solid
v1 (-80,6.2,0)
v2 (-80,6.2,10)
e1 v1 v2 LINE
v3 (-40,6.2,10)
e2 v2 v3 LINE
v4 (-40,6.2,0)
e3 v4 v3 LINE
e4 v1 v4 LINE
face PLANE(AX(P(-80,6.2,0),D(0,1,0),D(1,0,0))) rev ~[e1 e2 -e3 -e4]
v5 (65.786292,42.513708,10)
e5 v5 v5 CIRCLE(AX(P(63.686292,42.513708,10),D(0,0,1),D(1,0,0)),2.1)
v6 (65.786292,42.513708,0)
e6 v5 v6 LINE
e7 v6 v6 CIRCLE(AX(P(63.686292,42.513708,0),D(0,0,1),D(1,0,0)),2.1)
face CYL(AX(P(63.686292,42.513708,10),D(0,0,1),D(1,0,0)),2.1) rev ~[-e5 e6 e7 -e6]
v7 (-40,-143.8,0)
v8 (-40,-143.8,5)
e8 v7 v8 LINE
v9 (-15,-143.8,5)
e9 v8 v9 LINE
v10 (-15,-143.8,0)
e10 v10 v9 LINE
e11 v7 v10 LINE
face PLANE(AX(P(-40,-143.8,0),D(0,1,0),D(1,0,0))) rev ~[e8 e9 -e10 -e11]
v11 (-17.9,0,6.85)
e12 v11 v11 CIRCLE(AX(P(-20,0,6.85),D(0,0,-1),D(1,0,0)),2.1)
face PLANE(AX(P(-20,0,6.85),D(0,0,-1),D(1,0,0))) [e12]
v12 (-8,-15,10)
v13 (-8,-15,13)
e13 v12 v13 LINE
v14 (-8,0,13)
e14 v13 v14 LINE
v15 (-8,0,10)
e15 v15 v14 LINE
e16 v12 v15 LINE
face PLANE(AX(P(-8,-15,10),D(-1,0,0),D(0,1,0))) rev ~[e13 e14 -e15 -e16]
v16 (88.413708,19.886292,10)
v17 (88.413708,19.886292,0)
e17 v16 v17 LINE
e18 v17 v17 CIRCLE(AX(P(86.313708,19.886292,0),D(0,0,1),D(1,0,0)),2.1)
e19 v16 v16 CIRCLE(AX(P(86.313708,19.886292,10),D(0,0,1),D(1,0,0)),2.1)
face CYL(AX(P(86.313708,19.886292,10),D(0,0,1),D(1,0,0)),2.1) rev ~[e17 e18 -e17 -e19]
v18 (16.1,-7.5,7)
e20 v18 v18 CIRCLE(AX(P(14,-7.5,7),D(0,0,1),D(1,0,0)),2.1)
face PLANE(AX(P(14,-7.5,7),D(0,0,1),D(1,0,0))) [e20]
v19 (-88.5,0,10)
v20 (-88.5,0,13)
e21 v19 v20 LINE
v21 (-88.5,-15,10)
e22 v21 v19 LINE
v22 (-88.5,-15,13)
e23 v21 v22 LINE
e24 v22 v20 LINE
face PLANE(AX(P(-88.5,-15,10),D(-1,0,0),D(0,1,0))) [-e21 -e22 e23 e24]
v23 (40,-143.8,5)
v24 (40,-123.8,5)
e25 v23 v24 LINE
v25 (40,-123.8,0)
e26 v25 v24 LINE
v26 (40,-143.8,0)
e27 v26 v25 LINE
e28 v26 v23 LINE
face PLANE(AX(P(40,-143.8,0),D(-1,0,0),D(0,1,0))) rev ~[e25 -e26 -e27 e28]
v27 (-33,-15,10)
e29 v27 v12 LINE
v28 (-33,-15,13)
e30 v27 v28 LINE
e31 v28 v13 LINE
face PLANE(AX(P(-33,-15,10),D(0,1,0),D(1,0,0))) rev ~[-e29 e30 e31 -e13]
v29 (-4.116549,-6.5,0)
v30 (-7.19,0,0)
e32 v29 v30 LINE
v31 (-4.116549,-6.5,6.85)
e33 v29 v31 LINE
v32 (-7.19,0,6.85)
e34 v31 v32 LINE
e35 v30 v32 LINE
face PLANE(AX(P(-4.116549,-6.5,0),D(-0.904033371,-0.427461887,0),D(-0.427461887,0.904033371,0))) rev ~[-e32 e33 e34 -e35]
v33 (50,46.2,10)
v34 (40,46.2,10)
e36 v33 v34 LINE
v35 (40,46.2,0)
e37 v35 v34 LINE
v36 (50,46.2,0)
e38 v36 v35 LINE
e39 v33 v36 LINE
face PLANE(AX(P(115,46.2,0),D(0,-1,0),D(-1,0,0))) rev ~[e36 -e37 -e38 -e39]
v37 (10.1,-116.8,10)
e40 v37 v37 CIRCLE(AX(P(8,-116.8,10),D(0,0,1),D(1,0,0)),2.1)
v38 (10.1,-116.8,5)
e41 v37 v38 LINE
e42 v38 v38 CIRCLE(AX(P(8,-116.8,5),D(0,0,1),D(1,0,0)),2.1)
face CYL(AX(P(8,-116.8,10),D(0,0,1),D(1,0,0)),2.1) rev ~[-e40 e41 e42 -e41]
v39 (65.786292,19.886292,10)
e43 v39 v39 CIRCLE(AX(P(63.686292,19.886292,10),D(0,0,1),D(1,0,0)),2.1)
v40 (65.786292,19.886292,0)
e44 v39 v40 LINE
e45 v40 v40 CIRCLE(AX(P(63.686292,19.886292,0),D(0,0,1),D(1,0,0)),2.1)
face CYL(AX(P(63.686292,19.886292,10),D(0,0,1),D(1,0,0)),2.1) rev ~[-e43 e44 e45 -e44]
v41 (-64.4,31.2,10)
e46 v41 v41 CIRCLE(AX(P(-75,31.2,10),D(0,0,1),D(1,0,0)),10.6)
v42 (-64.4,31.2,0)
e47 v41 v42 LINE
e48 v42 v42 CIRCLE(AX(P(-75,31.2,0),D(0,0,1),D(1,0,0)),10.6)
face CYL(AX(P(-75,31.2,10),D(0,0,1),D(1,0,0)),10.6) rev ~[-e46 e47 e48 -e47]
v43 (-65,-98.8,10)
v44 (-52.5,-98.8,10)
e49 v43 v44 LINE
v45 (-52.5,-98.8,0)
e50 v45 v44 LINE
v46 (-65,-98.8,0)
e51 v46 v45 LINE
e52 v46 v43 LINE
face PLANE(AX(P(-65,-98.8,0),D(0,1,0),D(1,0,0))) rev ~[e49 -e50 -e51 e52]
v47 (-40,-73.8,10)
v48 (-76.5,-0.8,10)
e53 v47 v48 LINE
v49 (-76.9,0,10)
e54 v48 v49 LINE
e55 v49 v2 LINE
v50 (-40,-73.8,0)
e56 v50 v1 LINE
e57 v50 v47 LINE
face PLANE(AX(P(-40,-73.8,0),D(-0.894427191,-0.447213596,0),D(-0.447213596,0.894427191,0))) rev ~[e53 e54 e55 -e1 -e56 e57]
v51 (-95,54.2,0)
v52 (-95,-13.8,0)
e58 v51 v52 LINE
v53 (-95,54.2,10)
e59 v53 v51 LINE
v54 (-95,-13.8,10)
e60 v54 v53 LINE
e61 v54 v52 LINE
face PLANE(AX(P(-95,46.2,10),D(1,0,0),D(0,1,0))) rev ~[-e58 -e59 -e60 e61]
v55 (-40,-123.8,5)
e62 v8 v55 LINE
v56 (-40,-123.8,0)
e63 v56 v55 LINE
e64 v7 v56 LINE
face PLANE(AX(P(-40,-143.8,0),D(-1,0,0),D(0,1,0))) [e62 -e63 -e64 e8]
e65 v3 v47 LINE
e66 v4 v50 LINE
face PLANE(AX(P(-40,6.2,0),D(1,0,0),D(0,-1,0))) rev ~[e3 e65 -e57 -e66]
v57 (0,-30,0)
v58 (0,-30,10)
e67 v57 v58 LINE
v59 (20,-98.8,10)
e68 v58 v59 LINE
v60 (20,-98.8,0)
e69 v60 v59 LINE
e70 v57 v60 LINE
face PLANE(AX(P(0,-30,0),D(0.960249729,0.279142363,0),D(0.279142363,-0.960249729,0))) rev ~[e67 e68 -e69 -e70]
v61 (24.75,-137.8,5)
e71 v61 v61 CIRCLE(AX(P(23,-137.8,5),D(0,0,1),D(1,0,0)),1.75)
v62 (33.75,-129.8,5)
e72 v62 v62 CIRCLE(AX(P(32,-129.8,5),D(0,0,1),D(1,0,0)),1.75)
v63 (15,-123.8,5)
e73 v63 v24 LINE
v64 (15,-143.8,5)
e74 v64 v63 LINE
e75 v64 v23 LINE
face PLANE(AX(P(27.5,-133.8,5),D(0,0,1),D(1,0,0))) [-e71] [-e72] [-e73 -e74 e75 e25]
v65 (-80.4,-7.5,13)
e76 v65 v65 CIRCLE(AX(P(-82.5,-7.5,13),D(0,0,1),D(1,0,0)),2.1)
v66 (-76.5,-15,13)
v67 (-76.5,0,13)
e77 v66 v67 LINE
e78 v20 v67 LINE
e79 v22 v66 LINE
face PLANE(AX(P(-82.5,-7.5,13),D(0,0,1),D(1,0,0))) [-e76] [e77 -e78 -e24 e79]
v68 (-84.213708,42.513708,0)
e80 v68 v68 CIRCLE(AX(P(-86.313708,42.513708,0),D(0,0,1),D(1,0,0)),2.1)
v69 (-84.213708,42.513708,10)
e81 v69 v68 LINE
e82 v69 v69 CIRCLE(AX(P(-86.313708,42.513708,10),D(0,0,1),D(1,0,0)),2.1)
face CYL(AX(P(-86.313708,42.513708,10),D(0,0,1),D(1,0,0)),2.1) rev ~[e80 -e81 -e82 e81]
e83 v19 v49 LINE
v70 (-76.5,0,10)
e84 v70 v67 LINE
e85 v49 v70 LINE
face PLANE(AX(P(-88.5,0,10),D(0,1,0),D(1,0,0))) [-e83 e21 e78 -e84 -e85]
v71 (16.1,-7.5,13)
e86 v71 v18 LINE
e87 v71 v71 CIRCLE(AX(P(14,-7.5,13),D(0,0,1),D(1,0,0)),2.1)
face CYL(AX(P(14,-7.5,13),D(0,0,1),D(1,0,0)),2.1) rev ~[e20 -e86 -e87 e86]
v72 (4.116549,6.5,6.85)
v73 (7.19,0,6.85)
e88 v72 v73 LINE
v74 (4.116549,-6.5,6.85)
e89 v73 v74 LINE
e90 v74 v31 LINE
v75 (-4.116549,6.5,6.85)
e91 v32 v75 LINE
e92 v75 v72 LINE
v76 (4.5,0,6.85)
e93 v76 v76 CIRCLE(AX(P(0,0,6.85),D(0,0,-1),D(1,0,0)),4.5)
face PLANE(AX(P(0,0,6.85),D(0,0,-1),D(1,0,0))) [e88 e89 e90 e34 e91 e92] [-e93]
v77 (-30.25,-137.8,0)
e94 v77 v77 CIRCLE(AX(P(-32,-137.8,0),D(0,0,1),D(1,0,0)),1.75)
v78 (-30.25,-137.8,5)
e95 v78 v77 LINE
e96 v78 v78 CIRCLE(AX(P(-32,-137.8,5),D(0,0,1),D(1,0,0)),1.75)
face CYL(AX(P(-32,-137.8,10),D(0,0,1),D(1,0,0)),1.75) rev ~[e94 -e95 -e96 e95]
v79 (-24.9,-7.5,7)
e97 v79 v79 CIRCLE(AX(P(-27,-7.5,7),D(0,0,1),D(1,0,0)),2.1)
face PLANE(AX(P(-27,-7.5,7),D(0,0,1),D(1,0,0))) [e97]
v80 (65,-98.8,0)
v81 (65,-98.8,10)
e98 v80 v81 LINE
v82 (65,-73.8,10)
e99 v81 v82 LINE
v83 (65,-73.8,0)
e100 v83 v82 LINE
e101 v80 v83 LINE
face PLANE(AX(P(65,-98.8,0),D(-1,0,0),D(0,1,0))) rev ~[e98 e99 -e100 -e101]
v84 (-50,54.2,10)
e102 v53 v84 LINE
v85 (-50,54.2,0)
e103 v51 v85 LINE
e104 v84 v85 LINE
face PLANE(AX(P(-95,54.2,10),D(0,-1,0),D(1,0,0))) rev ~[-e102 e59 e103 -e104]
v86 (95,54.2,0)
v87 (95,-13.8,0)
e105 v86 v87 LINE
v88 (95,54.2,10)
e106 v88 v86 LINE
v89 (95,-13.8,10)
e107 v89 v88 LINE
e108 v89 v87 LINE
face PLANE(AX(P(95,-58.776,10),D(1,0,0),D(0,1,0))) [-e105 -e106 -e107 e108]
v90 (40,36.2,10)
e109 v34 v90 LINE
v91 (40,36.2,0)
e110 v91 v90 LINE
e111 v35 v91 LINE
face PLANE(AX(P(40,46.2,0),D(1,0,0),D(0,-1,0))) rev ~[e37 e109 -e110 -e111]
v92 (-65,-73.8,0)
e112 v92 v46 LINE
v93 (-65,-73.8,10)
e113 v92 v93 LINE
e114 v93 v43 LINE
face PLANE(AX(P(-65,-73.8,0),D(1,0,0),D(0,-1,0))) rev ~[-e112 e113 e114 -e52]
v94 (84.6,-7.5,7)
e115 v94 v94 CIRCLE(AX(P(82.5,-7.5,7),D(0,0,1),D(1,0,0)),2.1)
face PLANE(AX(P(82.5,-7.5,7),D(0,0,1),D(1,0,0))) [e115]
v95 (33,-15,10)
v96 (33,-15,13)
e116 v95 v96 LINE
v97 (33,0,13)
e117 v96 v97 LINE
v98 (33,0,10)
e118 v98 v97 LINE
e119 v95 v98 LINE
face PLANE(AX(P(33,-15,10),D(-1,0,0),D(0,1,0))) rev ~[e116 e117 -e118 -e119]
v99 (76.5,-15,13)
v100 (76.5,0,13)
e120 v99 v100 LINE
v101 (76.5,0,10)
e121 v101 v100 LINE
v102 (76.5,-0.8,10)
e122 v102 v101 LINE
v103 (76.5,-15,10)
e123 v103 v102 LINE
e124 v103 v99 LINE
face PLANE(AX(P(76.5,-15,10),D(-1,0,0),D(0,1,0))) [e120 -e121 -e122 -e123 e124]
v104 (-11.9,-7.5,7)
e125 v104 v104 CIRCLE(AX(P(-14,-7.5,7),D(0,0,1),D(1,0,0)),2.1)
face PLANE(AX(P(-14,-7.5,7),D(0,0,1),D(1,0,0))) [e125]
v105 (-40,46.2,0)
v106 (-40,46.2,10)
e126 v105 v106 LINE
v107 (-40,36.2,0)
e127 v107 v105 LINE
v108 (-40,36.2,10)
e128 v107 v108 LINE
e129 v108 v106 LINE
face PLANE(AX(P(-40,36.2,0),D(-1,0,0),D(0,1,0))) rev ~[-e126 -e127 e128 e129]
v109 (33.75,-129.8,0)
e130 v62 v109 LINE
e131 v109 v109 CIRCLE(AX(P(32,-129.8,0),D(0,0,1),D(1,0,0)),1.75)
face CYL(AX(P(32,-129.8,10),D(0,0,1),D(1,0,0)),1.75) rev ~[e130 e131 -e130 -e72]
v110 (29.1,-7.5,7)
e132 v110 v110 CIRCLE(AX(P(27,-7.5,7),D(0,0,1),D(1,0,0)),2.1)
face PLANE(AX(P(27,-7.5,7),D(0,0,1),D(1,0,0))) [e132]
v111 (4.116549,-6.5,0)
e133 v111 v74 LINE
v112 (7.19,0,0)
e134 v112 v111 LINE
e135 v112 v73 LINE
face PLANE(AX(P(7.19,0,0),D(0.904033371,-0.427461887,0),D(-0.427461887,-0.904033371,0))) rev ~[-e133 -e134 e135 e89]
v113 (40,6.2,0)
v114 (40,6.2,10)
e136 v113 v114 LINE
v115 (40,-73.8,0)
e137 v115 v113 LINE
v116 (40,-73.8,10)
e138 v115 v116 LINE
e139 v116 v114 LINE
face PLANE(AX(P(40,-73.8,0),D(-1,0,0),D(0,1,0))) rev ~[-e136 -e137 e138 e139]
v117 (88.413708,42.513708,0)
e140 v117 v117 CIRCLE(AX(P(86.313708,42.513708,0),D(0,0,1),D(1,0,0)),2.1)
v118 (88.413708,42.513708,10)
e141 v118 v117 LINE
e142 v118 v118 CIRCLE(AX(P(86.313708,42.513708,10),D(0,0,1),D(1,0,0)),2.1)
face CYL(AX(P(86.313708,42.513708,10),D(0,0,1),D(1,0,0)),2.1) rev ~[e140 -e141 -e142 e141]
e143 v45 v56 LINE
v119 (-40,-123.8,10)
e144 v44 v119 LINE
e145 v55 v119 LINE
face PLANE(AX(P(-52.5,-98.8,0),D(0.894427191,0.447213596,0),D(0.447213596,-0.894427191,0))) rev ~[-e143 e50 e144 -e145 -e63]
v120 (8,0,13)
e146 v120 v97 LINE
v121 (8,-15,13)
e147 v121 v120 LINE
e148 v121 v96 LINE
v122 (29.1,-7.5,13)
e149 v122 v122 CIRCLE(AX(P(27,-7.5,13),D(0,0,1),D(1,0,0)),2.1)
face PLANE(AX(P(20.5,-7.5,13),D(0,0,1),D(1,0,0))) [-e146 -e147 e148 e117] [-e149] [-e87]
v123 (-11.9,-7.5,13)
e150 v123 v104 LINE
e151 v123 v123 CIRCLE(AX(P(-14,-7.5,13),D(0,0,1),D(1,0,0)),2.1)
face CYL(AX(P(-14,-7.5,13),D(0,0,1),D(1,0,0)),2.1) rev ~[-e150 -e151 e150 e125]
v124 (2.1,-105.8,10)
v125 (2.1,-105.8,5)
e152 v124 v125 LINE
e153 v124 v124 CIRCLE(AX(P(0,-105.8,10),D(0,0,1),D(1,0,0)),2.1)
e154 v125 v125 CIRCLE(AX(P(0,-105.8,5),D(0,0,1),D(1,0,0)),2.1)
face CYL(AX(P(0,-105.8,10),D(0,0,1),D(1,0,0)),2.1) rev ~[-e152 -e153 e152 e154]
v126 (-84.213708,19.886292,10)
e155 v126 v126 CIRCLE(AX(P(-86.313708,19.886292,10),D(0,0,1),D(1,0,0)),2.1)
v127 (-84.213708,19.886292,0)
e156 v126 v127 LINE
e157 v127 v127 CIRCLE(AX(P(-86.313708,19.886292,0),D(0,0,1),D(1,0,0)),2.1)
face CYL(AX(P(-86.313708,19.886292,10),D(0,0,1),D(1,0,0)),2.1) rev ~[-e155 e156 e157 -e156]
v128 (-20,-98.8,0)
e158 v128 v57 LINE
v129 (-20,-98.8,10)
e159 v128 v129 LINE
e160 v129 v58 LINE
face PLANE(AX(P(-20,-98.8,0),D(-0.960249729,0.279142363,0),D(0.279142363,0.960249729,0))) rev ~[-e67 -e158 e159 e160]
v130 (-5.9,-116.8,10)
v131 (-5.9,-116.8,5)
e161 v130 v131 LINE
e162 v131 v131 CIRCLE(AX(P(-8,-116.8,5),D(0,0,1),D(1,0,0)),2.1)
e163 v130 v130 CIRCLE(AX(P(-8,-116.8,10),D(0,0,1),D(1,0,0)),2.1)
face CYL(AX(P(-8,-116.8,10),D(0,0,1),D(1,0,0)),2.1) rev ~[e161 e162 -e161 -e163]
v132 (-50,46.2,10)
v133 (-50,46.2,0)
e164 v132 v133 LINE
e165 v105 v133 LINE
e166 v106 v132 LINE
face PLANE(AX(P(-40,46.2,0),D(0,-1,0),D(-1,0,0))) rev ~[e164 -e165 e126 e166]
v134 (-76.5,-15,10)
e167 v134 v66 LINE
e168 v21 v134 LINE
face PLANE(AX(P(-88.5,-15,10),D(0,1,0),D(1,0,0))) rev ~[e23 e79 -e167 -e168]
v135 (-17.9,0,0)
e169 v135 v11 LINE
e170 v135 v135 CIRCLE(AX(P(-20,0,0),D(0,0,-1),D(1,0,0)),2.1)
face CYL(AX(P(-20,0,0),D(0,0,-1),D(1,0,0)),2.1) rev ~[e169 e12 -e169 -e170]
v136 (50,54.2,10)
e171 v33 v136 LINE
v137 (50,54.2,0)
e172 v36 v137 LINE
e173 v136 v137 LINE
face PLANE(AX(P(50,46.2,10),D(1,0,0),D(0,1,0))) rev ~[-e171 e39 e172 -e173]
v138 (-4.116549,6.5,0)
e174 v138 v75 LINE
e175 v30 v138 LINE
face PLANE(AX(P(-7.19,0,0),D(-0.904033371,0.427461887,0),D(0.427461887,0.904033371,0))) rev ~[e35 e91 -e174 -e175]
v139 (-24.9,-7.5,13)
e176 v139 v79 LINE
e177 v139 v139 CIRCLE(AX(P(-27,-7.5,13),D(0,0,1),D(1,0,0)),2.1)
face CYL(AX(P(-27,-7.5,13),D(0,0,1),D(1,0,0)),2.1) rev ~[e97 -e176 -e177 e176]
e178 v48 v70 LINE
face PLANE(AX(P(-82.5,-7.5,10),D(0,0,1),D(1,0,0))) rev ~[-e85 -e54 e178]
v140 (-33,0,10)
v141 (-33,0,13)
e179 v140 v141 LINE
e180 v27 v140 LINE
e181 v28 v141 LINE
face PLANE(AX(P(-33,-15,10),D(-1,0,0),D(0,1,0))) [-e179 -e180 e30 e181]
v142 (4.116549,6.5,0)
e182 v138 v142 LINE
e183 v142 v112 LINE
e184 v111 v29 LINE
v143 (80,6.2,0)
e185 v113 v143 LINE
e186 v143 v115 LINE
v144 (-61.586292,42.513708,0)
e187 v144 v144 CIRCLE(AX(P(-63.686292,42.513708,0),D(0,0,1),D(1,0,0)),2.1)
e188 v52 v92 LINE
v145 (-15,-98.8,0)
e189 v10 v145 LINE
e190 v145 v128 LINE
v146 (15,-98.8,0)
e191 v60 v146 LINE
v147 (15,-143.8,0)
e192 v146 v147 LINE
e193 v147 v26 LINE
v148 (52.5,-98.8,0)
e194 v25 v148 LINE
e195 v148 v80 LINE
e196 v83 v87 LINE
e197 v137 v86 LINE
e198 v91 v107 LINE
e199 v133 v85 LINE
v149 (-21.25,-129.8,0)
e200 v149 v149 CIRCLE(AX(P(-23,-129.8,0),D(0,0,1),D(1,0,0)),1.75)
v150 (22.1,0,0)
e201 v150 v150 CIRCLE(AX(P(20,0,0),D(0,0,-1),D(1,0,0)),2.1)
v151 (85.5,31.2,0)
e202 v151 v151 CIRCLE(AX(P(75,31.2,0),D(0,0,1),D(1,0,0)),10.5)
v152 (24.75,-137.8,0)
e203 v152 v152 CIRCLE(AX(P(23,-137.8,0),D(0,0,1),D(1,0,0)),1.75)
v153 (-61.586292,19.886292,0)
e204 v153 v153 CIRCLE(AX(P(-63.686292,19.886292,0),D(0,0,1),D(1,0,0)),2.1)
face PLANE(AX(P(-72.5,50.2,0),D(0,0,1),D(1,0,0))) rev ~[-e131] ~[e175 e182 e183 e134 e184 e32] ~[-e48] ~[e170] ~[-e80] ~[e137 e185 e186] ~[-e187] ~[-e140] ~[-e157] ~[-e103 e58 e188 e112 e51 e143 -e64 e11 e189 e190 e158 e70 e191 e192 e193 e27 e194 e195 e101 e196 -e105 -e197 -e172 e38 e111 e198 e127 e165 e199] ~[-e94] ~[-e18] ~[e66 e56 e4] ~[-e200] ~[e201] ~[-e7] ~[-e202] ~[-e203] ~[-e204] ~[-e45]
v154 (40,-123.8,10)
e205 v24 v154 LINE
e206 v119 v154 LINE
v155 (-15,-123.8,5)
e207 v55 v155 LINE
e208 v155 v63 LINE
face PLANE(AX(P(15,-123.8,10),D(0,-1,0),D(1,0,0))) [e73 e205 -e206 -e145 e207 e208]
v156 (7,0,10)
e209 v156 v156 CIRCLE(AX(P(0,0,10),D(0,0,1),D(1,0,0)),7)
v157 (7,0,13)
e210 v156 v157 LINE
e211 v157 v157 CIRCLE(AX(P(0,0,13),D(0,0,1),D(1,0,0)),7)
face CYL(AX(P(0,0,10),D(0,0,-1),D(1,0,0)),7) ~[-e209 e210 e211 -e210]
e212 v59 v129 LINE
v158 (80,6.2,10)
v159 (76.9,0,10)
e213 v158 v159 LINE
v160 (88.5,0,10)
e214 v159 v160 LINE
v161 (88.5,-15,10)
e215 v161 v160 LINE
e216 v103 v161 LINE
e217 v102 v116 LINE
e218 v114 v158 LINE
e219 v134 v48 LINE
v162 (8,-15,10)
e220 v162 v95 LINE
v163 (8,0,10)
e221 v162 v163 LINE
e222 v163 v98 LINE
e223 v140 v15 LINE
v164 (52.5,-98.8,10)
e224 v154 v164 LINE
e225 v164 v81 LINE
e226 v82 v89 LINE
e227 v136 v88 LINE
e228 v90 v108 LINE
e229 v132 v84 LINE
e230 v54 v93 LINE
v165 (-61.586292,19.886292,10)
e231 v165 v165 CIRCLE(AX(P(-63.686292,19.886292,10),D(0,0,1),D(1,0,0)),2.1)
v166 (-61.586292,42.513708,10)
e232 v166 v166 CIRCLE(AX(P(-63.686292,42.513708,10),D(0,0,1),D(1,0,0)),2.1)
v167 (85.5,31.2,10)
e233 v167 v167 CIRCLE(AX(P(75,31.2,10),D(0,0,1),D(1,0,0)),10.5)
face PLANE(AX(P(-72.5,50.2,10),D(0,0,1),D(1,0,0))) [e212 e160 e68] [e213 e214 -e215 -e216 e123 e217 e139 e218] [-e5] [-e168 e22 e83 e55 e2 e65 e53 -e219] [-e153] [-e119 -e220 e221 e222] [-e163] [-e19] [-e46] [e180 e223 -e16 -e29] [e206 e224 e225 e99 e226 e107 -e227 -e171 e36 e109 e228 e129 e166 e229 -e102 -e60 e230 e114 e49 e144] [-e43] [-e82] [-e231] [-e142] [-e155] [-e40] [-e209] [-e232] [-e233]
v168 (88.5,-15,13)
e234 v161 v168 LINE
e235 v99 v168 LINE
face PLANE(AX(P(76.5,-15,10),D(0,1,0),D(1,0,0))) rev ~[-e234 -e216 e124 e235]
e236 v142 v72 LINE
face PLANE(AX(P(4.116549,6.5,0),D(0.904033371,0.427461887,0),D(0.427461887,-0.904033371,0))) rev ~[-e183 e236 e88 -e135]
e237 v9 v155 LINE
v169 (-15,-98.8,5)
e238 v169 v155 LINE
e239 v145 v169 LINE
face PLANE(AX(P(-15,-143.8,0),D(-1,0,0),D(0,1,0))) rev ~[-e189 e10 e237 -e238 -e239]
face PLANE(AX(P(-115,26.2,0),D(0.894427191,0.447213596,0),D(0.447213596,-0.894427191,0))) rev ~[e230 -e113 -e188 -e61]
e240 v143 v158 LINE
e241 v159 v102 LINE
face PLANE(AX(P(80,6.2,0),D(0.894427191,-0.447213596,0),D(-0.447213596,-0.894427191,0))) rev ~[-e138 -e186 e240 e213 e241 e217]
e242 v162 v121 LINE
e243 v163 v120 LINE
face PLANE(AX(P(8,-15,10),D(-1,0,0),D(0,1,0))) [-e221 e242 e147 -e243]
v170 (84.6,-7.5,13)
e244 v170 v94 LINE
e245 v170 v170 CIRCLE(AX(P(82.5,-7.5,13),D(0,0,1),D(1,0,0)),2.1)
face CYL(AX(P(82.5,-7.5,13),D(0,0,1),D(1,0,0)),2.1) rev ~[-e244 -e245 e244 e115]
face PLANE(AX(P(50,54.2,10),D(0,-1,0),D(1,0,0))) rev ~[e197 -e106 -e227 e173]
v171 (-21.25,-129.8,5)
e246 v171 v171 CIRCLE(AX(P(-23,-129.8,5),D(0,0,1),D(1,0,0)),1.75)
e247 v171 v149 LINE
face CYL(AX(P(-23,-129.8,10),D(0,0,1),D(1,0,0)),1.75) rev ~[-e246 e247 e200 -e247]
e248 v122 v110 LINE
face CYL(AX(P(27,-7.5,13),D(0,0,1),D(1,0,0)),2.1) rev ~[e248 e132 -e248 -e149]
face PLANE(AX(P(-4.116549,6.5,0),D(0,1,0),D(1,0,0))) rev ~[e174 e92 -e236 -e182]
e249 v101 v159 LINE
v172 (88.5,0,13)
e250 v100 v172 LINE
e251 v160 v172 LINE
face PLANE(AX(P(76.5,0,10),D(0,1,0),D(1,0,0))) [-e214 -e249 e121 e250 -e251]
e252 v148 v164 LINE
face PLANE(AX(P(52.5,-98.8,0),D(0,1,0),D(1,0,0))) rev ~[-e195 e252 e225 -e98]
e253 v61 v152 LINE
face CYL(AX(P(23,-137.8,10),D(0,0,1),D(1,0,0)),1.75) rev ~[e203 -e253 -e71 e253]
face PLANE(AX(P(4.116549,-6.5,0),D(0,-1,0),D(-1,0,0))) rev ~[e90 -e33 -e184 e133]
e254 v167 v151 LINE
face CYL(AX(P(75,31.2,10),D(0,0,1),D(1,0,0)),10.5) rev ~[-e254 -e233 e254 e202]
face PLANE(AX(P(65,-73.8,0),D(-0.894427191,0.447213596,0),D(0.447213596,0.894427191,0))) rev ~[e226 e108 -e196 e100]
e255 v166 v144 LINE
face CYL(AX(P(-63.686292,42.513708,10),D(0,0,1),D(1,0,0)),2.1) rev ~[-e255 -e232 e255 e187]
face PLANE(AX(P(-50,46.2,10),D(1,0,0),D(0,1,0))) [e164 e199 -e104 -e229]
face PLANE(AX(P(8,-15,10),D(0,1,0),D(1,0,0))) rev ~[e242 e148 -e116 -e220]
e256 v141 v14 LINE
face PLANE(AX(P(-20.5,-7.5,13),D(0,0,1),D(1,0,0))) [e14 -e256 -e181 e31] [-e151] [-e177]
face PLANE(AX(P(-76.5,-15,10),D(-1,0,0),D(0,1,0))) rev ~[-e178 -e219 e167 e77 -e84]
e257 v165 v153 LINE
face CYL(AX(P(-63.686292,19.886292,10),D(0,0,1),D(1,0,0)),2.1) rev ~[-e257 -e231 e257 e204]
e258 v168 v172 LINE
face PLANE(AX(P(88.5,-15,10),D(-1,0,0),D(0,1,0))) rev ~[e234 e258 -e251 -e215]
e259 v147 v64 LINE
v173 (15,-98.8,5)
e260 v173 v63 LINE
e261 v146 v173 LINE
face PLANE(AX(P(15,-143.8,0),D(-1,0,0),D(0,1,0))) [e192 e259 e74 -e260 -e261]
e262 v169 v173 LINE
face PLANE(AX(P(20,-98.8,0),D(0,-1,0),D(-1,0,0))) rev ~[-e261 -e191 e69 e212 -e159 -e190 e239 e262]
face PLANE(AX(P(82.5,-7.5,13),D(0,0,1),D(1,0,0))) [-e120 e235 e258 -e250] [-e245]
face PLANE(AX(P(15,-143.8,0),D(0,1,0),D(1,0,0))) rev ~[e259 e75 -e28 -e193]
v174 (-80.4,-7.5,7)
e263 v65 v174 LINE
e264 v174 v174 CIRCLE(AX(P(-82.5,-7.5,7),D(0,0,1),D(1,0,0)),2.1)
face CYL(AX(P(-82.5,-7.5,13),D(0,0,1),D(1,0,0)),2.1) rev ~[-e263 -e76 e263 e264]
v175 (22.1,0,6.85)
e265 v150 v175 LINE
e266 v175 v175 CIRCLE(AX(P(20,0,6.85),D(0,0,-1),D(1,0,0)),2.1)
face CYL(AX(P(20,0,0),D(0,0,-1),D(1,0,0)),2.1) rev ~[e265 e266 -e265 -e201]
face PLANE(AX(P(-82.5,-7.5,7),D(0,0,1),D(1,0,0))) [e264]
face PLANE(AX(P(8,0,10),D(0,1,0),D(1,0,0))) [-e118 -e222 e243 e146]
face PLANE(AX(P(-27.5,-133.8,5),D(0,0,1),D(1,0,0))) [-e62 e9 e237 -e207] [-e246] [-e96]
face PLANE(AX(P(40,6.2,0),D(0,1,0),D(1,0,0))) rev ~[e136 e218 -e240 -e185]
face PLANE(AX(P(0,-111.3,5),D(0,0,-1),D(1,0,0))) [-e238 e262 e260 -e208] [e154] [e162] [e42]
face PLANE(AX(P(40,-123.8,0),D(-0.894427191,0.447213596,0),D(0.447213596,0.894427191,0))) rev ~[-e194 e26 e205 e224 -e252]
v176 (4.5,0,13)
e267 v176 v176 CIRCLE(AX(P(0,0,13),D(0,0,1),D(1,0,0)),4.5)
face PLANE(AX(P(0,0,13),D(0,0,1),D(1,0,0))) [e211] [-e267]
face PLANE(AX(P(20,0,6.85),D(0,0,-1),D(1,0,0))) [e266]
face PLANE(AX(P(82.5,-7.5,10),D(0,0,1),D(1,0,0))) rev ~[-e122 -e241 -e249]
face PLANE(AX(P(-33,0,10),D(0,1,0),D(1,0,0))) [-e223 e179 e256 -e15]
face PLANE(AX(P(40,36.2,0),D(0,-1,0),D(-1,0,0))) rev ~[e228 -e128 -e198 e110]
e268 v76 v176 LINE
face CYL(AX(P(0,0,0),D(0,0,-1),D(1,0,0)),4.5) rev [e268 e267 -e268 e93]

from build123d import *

# Parameters (mm, degrees)
F0_R      = 7
F0_R_2    = 4.5
F0_W      = 25
F0_H      = 20
F1_DEPTH  = 10
F2_W      = 25
F2_H      = 15
F2_W_2    = 12
F2_R      = 7
F2_R_2    = 4.5
F3_DEPTH  = 3
F4_W      = 30
F4_H      = 25
F5_DEPTH  = 5
F6_W      = 25
F6_H      = 20
F7_DEPTH  = 5
F8_R      = 1.75
F8_R_2    = 2.1
F9_DEPTH  = 25
F10_R     = 2.1
F11_DEPTH = 6
F12_W     = 20
F12_H     = 100
F12_H_2   = 104.976
F13_DEPTH = 25
F14_R     = 10.6
F14_R_2   = 2.1
F14_R_3   = 10.5
F15_DEPTH = 25
F16_W     = 45
F16_H     = 8
F17_DEPTH = 10
F18_R     = 2.1
F19_DEPTH = 6.85


with BuildPart() as f1:
    # F0 (on Top) → F1 (new body)
    with BuildSketch(Plane.XY):
        Polygon((-52.5, -98.8), (-40, -123.8), (-15, -123.8), (15, -123.8), (40, -123.8), (52.5, -98.8), (65, -98.8), (65, -73.8), (115, 26.2), (115, 46.2), (40, 46.2), (40, 36.2), (-40, 36.2), (-40, 46.2), (-115, 46.2), (-115, 26.2), (-65, -73.8), (-65, -98.8), align=None)
        Polygon((20, -98.8), (-20, -98.8), (0, -30), align=None, mode=Mode.SUBTRACT)
        Polygon((-80, 6.2), (-40, 6.2), (-40, -73.8), align=None, mode=Mode.SUBTRACT)
        with Locations((-75, 31.2)):
            Circle(F0_R, mode=Mode.SUBTRACT)
        Polygon((40, -73.8), (40, 6.2), (80, 6.2), align=None, mode=Mode.SUBTRACT)
        Circle(F0_R_2, mode=Mode.SUBTRACT)
        with Locations((75, 31.2)):
            Circle(F0_R, mode=Mode.SUBTRACT)
        with Locations((-27.5, -133.8)):
            Rectangle(F0_W, F0_H)
        with Locations((27.5, -133.8)):
            Rectangle(F0_W, F0_H)
    extrude(amount=F1_DEPTH)

    # F2 (on face) → F3 (join)
    with BuildSketch(Plane.XY.offset(10)):
        with Locations((-20.5, -7.5)):
            Rectangle(F2_W, F2_H)
        with Locations((20.5, -7.5)):
            Rectangle(F2_W, F2_H)
        with Locations((82.5, -7.5)):
            Rectangle(F2_W_2, F2_H)
        with Locations((-82.5, -7.5)):
            Rectangle(F2_W_2, F2_H)
        Circle(F2_R)
        Circle(F2_R_2, mode=Mode.SUBTRACT)
    extrude(amount=F3_DEPTH)

    # F4 (on face) → F5 (cut)
    with BuildSketch(Plane(origin=(0, 0, 0), x_dir=(1, 0, 0), z_dir=(0, 0, -1))):
        with Locations((0, 111.3)):
            Rectangle(F4_W, F4_H)
    extrude(amount=-F5_DEPTH, mode=Mode.SUBTRACT)

    # F6 (on face) → F7 (cut)
    with BuildSketch(Plane.XY.offset(10)):
        with Locations((-27.5, -133.8)):
            Rectangle(F6_W, F6_H)
        with Locations((27.5, -133.8)):
            Rectangle(F6_W, F6_H)
    extrude(amount=-F7_DEPTH, mode=Mode.SUBTRACT)

    # F8 (on face) → F9 (cut)
    with BuildSketch(Plane.XY.offset(10)):
        with Locations((-32, -137.8)):
            Circle(F8_R)
        with Locations((-23, -129.8)):
            Circle(F8_R)
        with Locations((23, -137.8)):
            Circle(F8_R)
        with Locations((32, -129.8)):
            Circle(F8_R)
        with Locations((-8, -116.8)):
            Circle(F8_R_2)
        with Locations((8, -116.8)):
            Circle(F8_R_2)
        with Locations((0, -105.8)):
            Circle(F8_R_2)
    extrude(amount=-F9_DEPTH, mode=Mode.SUBTRACT)

    # F10 (on face) → F11 (cut)
    with BuildSketch(Plane.XY.offset(13)):
        with Locations((-82.5, -7.5)):
            Circle(F10_R)
        with Locations((-27, -7.5)):
            Circle(F10_R)
        with Locations((27, -7.5)):
            Circle(F10_R)
        with Locations((82.5, -7.5)):
            Circle(F10_R)
        with Locations((-14, -7.5)):
            Circle(F10_R)
        with Locations((14, -7.5)):
            Circle(F10_R)
    extrude(amount=-F11_DEPTH, mode=Mode.SUBTRACT)

    # F12 (on face) → F13 (cut)
    with BuildSketch(Plane.XY.offset(10)):
        with Locations((-105, -3.8)):
            Rectangle(F12_W, F12_H)
        with Locations((105, -6.288)):
            Rectangle(F12_W, F12_H_2)
    extrude(amount=-F13_DEPTH, mode=Mode.SUBTRACT)

    # F14 (on face) → F15 (cut)
    with BuildSketch(Plane.XY.offset(10)):
        with Locations((-75, 31.2)):
            Circle(F14_R)
        with Locations((-63.686292, 42.513708)):
            Circle(F14_R_2)
        with Locations((-86.313708, 42.513708)):
            Circle(F14_R_2)
        with Locations((-86.313708, 19.886292)):
            Circle(F14_R_2)
        with Locations((-63.686292, 19.886292)):
            Circle(F14_R_2)
        with Locations((63.686292, 42.513708)):
            Circle(F14_R_2)
        with Locations((63.686292, 19.886292)):
            Circle(F14_R_2)
        with Locations((86.313708, 42.513708)):
            Circle(F14_R_2)
        with Locations((86.313708, 19.886292)):
            Circle(F14_R_2)
        with Locations((75, 31.2)):
            Circle(F14_R_3)
    extrude(amount=-F15_DEPTH, mode=Mode.SUBTRACT)

    # F16 (on face) → F17 (join)
    with BuildSketch(Plane.XY.offset(10)):
        with Locations((-72.5, 50.2)):
            Rectangle(F16_W, F16_H)
        with Locations((72.5, 50.2)):
            Rectangle(F16_W, F16_H)
    extrude(amount=-F17_DEPTH)

    # F18 (on face) → F19 (cut)
    with BuildSketch(Plane(origin=(0, 0, 0), x_dir=(1, 0, 0), z_dir=(0, 0, -1))):
        Polygon((4.116549, 6.5), (-4.116549, 6.5), (-7.19, 0), (-4.116549, -6.5), (4.116549, -6.5), (7.19, 0), align=None)
        with Locations((-20, 0)):
            Circle(F18_R)
        with Locations((20, 0)):
            Circle(F18_R)
    extrude(amount=-F19_DEPTH, mode=Mode.SUBTRACT)


solid = f1.part
